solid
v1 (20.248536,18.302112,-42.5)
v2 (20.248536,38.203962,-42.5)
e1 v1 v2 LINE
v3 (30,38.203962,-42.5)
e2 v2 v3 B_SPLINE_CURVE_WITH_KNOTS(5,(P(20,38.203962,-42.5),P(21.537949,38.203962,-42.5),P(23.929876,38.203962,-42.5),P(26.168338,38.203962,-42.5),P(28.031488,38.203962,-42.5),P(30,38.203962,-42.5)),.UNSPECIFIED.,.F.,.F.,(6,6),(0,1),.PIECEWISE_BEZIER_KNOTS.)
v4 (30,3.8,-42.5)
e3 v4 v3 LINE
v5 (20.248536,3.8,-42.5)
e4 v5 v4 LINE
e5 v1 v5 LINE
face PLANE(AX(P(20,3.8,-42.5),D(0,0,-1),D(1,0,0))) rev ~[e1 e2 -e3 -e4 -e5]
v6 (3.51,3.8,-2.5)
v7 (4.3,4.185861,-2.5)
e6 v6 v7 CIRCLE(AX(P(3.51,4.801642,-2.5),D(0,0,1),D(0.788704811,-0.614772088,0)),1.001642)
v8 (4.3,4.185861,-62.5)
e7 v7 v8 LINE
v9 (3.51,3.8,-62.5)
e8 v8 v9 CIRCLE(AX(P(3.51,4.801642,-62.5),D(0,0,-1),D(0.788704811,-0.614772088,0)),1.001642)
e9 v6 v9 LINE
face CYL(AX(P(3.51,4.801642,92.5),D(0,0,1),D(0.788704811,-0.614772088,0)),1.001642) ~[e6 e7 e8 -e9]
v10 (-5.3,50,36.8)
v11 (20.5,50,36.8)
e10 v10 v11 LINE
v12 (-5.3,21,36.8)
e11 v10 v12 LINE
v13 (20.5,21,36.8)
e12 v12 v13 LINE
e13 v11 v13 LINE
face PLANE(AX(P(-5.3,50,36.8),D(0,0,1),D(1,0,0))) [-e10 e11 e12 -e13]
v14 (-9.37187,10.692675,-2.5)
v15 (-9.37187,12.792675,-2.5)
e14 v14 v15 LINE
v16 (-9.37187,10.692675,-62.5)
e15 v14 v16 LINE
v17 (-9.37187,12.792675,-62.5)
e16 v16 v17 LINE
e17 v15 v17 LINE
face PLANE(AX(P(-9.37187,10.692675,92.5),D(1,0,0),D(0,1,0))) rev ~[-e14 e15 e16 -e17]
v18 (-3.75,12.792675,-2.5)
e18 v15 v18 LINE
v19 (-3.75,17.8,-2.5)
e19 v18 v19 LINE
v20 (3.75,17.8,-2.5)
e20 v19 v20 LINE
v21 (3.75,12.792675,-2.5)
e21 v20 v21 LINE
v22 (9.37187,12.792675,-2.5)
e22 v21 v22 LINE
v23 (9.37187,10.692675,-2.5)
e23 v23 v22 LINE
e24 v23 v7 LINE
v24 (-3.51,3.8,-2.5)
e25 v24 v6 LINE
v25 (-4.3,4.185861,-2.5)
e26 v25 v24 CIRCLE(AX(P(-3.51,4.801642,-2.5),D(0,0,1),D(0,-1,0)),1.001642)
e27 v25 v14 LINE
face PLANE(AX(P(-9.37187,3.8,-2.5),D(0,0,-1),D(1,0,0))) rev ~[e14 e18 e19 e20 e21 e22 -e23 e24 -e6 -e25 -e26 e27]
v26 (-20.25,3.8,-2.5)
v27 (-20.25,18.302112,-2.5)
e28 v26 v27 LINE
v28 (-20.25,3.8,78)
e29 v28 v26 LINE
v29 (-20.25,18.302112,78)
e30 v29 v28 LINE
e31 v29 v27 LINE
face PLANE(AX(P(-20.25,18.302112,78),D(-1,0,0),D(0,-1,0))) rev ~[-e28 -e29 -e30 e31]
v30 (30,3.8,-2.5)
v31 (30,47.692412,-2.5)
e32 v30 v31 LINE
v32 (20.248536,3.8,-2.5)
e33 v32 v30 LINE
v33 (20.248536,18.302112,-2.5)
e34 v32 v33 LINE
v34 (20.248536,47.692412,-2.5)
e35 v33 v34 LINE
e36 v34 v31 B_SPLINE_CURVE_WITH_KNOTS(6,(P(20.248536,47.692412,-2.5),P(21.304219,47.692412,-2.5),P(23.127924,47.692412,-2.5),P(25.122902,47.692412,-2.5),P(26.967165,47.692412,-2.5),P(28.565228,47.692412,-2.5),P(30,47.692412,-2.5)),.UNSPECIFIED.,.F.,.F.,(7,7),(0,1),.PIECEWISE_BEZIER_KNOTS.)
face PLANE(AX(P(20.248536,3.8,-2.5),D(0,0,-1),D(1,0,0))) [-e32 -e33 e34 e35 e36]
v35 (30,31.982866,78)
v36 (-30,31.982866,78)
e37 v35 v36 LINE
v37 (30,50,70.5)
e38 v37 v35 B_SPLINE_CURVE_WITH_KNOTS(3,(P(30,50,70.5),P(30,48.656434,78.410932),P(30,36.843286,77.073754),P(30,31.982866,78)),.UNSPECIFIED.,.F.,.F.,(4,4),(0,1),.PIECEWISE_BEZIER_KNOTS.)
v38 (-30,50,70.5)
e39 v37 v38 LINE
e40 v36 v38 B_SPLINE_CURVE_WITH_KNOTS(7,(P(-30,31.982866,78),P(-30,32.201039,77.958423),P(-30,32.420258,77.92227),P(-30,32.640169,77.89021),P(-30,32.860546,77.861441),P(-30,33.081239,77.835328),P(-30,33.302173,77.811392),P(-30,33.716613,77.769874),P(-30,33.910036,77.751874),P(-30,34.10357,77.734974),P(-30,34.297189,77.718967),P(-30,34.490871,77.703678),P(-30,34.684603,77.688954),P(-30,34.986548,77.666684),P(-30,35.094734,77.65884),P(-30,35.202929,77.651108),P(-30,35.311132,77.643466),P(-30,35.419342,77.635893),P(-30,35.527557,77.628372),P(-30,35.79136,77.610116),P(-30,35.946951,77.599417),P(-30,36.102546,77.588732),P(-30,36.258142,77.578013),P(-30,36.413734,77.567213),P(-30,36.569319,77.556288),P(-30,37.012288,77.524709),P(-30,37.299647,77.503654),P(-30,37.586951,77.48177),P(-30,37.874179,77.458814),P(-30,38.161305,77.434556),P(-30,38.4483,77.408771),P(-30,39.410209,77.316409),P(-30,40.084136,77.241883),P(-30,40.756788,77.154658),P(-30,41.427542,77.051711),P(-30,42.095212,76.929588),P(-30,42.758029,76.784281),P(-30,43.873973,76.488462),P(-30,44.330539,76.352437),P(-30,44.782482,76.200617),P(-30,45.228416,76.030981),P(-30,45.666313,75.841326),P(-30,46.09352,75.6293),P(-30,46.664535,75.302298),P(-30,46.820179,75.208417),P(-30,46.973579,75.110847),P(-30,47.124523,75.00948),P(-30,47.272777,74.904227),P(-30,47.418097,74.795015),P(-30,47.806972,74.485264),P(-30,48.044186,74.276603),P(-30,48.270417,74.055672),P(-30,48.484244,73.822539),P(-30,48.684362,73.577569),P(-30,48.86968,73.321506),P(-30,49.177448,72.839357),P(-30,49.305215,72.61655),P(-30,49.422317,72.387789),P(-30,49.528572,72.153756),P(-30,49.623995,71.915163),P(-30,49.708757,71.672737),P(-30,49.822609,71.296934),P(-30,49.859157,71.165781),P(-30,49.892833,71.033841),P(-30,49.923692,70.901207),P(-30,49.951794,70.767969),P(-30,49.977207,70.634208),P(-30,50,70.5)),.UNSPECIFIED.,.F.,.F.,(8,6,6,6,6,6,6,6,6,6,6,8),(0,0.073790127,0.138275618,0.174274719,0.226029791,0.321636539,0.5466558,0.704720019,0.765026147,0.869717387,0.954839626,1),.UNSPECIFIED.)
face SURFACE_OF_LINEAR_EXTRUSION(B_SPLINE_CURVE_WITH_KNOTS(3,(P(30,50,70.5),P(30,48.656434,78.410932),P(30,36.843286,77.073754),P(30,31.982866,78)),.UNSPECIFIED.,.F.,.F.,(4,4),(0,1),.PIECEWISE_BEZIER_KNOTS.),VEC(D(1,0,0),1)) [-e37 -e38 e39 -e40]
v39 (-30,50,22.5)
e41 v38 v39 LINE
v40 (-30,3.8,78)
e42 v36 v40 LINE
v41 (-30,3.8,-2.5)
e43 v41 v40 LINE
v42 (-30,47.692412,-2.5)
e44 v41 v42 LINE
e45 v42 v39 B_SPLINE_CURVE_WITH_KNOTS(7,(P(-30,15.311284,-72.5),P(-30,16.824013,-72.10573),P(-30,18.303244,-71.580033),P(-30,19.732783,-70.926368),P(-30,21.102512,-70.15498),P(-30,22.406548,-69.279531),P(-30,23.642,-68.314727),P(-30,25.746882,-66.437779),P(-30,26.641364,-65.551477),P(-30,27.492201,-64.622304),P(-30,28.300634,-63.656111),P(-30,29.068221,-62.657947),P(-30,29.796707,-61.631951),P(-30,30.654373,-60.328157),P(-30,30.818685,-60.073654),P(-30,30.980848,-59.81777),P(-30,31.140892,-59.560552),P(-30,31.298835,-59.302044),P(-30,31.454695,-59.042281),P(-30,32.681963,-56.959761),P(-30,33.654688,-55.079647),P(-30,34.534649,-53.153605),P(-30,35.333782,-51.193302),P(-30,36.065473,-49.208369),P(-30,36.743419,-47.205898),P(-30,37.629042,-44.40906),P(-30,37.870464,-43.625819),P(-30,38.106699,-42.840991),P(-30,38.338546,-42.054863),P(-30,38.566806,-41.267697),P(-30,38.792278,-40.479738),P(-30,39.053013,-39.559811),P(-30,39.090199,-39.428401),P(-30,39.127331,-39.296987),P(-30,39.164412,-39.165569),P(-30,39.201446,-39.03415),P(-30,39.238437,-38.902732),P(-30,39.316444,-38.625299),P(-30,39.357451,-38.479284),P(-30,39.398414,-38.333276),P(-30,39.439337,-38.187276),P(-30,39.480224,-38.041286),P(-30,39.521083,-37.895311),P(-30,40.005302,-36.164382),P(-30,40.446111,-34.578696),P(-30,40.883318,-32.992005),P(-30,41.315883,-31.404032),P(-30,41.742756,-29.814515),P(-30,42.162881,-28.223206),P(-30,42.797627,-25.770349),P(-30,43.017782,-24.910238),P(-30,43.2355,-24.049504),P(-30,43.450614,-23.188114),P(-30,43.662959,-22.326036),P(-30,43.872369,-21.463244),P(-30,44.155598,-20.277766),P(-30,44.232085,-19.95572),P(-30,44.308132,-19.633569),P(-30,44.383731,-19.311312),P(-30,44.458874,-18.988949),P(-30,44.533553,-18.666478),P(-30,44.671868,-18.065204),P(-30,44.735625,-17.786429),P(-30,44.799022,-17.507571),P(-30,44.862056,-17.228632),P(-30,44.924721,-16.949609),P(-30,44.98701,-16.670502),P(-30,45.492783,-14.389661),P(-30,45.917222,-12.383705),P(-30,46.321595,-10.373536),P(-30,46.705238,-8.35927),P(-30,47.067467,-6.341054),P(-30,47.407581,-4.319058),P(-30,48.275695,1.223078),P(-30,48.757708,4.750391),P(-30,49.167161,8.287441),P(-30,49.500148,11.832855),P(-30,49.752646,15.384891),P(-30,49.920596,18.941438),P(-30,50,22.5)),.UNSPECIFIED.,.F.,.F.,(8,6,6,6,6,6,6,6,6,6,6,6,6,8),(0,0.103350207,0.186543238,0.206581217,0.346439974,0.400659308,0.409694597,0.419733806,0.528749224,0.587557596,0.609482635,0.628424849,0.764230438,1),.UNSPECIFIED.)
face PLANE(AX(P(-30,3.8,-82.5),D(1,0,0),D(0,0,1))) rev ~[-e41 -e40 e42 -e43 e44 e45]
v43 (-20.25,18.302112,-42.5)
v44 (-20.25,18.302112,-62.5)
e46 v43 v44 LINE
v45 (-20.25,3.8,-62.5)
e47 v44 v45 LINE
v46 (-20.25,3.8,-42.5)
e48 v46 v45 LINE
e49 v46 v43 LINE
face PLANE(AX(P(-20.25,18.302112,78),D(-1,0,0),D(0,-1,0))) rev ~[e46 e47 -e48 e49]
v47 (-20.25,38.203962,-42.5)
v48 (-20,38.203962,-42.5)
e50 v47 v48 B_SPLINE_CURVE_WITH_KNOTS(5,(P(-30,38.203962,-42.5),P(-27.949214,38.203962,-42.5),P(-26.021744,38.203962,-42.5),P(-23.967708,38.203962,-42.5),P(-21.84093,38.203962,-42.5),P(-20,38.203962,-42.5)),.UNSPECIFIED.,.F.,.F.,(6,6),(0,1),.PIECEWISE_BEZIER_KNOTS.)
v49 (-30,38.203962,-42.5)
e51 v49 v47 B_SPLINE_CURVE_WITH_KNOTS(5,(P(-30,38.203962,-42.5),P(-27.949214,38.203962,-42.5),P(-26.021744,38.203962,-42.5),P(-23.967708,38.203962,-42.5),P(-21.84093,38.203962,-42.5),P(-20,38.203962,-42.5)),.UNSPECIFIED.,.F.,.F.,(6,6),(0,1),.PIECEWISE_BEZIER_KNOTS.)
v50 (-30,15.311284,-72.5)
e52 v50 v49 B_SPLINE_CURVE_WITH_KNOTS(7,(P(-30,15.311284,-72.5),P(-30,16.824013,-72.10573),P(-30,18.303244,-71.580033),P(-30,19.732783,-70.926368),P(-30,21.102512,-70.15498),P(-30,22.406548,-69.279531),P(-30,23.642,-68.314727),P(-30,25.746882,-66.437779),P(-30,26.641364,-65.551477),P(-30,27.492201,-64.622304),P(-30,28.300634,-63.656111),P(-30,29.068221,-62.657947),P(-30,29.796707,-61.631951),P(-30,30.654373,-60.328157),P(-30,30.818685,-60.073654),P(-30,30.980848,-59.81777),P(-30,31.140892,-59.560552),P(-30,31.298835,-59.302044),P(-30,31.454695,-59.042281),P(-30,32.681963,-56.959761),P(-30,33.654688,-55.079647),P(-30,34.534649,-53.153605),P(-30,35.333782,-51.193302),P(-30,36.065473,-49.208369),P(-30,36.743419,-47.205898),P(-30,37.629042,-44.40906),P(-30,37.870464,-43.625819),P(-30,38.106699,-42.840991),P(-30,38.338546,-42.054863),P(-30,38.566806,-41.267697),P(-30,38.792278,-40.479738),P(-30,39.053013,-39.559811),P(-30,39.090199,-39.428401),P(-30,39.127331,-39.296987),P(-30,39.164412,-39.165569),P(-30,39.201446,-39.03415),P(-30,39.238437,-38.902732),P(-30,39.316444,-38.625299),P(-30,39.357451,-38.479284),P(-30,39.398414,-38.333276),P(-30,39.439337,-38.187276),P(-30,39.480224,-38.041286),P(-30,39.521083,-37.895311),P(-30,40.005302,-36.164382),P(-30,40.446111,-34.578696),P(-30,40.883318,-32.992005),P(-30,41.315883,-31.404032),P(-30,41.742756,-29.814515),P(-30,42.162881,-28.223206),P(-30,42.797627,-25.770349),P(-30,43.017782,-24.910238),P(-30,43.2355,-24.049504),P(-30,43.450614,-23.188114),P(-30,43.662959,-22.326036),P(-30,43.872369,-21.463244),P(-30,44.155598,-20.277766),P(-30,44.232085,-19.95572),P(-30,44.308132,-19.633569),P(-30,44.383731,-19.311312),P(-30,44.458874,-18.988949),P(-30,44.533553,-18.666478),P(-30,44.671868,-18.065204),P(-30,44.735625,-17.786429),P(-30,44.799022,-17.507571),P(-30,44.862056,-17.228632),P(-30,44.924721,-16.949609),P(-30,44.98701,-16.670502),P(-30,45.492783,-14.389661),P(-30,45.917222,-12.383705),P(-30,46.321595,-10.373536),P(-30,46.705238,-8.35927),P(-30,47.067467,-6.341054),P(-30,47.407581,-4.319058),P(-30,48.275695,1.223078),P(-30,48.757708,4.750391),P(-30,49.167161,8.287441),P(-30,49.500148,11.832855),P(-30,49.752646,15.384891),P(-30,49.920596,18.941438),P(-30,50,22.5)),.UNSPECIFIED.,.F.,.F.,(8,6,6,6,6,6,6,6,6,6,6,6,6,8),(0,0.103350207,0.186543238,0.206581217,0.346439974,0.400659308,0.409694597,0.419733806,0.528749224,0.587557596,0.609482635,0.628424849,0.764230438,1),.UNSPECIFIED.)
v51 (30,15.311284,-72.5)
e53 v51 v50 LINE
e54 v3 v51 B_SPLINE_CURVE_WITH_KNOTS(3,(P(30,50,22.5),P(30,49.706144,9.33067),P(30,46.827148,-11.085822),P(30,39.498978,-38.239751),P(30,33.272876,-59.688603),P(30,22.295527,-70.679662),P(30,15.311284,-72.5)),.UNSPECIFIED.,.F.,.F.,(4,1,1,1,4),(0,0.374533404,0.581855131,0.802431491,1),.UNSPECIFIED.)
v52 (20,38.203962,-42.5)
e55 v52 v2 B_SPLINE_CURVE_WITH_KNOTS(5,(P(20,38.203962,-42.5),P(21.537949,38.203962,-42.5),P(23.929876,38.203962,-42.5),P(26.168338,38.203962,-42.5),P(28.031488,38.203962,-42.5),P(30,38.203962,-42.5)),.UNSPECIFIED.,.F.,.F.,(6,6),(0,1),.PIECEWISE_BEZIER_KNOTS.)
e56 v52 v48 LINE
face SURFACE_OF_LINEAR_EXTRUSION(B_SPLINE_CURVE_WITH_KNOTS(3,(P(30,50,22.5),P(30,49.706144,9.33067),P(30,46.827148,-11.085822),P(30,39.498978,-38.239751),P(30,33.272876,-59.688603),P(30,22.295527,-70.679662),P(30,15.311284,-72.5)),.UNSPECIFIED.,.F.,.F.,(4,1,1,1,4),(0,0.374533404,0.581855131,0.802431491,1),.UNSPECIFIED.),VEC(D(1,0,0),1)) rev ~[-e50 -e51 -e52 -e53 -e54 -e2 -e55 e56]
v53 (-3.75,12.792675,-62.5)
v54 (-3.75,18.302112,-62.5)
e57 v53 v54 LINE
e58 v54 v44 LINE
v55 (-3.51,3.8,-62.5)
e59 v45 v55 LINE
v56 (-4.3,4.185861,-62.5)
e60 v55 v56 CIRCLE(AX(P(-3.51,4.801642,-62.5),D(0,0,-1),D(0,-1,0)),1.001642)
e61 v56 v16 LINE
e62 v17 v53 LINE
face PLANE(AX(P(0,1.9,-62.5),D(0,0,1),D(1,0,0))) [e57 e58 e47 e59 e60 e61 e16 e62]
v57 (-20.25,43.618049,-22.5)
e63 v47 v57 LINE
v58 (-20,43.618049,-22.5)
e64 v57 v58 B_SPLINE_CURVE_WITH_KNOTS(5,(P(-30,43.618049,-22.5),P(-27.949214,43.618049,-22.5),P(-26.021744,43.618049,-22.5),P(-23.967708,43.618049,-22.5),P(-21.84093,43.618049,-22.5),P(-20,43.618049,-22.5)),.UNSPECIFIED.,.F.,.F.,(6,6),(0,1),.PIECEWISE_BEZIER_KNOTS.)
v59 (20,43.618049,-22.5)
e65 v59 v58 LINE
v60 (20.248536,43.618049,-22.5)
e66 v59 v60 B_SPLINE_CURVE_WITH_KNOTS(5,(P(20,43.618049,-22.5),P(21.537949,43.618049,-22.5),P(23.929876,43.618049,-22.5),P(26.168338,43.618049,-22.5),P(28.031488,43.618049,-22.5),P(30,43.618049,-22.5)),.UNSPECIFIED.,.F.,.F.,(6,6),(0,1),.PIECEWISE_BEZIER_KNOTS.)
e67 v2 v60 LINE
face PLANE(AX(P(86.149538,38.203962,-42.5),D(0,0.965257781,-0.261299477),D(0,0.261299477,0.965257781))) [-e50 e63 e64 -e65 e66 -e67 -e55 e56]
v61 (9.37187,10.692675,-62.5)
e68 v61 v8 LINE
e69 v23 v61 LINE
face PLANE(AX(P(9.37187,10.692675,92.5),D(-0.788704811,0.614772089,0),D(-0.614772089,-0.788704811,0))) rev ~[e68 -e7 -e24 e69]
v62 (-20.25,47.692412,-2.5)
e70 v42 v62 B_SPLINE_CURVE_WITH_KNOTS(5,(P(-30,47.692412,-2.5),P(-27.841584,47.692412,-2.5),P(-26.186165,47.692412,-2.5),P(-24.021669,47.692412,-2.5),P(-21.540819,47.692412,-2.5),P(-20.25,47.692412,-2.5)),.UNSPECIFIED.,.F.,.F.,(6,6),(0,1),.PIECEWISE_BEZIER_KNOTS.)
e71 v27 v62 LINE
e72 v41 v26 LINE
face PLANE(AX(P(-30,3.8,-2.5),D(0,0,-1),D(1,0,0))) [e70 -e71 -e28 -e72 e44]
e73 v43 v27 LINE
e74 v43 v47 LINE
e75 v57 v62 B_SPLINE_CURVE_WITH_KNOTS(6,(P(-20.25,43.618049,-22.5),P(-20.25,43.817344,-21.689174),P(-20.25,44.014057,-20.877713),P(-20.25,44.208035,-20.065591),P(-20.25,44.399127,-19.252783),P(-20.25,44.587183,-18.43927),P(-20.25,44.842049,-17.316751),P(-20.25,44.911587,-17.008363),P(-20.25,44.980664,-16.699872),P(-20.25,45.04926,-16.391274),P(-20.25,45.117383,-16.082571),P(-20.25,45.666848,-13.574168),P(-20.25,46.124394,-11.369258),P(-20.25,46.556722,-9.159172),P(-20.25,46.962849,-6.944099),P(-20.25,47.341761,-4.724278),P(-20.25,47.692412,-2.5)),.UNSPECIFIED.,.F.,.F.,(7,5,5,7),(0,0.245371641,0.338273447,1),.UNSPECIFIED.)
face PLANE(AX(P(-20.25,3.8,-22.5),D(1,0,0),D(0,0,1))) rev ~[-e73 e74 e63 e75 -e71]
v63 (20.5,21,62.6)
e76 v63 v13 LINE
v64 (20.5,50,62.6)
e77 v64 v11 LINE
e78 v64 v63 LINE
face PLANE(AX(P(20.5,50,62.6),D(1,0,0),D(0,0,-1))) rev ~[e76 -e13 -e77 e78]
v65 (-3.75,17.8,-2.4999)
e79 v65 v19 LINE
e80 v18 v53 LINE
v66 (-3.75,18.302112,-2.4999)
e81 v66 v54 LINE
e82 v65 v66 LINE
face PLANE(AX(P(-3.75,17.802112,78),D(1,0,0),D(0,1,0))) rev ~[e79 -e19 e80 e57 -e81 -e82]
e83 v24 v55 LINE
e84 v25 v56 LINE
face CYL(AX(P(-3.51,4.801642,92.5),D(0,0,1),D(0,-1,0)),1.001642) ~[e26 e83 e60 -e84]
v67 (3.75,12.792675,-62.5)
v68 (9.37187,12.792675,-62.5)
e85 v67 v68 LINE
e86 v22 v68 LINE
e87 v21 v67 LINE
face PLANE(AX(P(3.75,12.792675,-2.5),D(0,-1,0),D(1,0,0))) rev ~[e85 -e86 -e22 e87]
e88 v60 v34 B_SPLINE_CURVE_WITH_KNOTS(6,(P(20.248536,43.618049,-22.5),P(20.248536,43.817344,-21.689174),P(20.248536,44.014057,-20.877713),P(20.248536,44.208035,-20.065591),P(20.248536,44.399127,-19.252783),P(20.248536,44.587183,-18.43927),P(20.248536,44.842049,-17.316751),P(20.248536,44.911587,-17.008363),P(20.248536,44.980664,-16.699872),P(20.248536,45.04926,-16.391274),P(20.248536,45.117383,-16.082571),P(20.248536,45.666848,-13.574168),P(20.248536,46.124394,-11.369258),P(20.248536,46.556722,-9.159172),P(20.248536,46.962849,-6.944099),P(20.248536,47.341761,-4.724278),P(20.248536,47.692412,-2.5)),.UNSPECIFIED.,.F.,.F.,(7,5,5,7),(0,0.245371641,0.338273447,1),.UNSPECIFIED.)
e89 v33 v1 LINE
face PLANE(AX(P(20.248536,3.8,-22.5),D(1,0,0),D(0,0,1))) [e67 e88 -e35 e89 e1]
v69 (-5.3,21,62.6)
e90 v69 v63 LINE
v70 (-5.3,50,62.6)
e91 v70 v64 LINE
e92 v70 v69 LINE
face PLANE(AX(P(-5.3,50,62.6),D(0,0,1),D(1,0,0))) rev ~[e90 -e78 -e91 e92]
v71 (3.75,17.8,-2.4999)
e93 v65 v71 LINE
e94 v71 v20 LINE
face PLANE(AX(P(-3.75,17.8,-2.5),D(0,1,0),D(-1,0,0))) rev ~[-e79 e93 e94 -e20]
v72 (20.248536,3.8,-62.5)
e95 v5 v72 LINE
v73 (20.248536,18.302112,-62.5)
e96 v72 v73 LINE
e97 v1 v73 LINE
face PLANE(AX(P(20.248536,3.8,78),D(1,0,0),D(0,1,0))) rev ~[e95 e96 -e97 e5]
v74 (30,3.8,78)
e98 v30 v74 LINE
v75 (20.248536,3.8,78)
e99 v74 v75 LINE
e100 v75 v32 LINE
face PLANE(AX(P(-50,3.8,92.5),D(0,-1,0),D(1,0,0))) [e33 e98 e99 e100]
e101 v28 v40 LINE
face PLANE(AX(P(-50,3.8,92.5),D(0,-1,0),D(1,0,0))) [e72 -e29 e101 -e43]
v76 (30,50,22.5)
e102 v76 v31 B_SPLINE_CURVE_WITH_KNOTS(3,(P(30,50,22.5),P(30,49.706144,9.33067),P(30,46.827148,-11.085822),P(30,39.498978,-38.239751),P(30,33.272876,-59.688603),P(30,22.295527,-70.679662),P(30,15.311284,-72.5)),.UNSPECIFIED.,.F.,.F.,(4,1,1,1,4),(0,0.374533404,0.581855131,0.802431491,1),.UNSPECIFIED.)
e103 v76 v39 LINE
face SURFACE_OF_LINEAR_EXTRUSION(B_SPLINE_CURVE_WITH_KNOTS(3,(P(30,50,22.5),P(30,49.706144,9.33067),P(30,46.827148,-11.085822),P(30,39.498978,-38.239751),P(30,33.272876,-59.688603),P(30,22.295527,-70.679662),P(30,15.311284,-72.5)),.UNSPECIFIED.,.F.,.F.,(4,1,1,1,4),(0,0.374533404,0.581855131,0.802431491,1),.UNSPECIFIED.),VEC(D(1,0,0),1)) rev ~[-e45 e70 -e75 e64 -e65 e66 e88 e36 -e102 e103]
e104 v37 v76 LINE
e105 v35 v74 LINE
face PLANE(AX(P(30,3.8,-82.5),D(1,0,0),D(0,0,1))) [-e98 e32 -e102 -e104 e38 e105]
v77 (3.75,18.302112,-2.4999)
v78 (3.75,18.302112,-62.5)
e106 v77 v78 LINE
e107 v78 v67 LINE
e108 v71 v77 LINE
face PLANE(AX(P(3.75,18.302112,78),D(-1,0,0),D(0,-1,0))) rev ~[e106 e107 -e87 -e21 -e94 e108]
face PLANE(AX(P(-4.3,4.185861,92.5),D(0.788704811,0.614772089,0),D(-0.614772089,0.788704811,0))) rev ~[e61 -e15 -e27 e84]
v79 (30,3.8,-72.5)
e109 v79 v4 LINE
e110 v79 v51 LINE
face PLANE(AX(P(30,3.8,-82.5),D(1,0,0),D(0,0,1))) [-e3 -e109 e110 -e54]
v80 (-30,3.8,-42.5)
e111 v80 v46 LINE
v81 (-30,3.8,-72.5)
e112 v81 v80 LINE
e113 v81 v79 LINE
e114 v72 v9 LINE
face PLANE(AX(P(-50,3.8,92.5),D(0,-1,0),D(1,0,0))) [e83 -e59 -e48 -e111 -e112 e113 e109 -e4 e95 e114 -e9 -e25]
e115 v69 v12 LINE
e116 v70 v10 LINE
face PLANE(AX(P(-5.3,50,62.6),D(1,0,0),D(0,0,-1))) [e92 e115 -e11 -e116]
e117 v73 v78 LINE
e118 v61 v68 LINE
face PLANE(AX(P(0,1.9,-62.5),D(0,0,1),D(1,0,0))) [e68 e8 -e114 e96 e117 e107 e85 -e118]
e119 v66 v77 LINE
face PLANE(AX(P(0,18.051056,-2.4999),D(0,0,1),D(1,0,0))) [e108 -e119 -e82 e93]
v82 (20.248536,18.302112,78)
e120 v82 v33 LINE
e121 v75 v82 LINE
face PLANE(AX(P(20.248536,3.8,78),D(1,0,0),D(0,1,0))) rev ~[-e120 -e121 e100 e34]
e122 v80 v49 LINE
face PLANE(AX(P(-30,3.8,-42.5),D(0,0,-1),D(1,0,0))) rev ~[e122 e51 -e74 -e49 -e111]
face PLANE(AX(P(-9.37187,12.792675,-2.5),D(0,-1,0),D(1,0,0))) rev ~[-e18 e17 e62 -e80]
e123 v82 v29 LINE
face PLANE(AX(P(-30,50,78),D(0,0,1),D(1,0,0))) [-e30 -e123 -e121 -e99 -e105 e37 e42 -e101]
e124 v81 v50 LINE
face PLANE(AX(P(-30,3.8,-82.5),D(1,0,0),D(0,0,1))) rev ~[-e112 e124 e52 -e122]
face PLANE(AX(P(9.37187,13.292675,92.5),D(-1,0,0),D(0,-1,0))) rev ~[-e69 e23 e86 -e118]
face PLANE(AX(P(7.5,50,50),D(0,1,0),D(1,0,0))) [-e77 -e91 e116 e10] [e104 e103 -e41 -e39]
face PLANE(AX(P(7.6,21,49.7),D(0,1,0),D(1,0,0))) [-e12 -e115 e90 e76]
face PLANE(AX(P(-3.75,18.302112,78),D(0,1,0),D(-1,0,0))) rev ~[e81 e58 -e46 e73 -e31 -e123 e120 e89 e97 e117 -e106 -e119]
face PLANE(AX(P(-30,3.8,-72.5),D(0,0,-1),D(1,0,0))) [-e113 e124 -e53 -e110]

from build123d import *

# Parameters (mm, degrees)
SKETCH_1_W                = 100
SKETCH_1_H                = 185
EXTRUDE_1_DEPTH           = 100
SKETCH_2_W                = 100
SKETCH_2_H                = 3.8
CUT_EXTRUDE_1_DEPTH       = 155
CUT_EXTRUDE_2_DEPTH       = 155
SKETCH_4_W                = 25.5
SKETCH_4_H                = 25.5
CUT_EXTRUDE_3_DEPTH       = 79
SKETCH_6_W                = 89.706259743
SKETCH_6_H                = 10
SKETCH_6_W_2              = 10.293740257
CUT_EXTRUDE_4_DEPTH       = 146.107718609
CUT_EXTRUDE_5_DEPTH       = 169.985946161
CUT_EXTRUDE_5_DEPTH_BACK  = 169.985946161
SKETCH_7_W                = 20
SKETCH_7_H                = 3.8
EXTRUDE_4_DEPTH           = 160
SKETCH_10_W               = 16
SKETCH_10_H               = 1.8
CUT_EXTRUDE_6_DEPTH       = 155
SKETCH_13_W               = 20
SKETCH_13_H               = 175
CUT_EXTRUDE_7_DEPTH       = 143.515578096
SKETCH_14_W               = 175
SKETCH_14_H               = 50
CUT_EXTRUDE_8_DEPTH       = 149.849756466
SKETCH_15_W               = 60
SKETCH_15_H               = 10
CUT_EXTRUDE_9_DEPTH       = 108.660066877
SKETCH_16_W               = 60
SKETCH_16_H               = 14.5
CUT_EXTRUDE_10_DEPTH      = 108.660066877
CUT_EXTRUDE_11_DEPTH      = 111.381157812
CUT_EXTRUDE_21_DEPTH      = 162.400898529
CUT_EXTRUDE_21_DEPTH_BACK = 140.5
CUT_EXTRUDE_26_DEPTH      = 111.381157983
SKETCH_34_W               = 10
SKETCH_34_H               = 20
CUT_EXTRUDE_31_DEPTH      = 96.490523251
SKETCH_35_W               = 18.74373947
SKETCH_35_H               = 80.5
CUT_EXTRUDE_32_DEPTH      = 14
CUT_EXTRUDE_35_DEPTH      = 60
CUT_EXTRUDE_36_DEPTH      = 140.5
SKETCH_43_W               = 0.25
SKETCH_43_H               = 0.002112168
CUT_EXTRUDE_37_DEPTH      = 140.5
SKETCH_44_W               = 7.5
SKETCH_44_H               = 0.502112168
CUT_EXTRUDE_38_DEPTH      = 80.4999
SKETCH_45_W               = 9.75
SKETCH_45_H               = 20
SKETCH_45_W_2             = 9.75146362
CUT_EXTRUDE_39_DEPTH      = 96.490523251
SKETCH_46_W               = 0.24853638
SKETCH_46_H               = 20
SKETCH_46_W_2             = 0.25
EXTRUDE_5_DEPTH           = 31.697888
CUT_EXTRUDE_40_DEPTH      = 106.399537724
CUT_EXTRUDE_40_DEPTH_BACK = 106.399537724
SKETCH_54_W               = 25.5
SKETCH_54_H               = 0.5
CUT_EXTRUDE_41_DEPTH      = 29
SKETCH_55_W               = 26
SKETCH_55_H               = 26
EXTRUDE_6_DEPTH           = 29
SKETCH_56_W               = 25.8
SKETCH_56_H               = 25.8
CUT_EXTRUDE_42_DEPTH      = 29


with BuildPart() as part:
    # 草图1 → 凸台-拉伸1 (new body)
    with BuildSketch(Plane(origin=(0, 0, 0), x_dir=(1, 0, 0), z_dir=(0, 1, 0))):
        Rectangle(SKETCH_1_W, SKETCH_1_H)
    extrude(amount=EXTRUDE_1_DEPTH)

    # 草图2 → 切除-拉伸1 (cut)
    with BuildSketch(Plane.XY.offset(92.5)):
        with Locations((0, 1.9)):
            Rectangle(SKETCH_2_W, SKETCH_2_H)
    extrude(amount=-CUT_EXTRUDE_1_DEPTH, mode=Mode.SUBTRACT)

    # 草图3 → 切除-拉伸2 (cut)
    with BuildSketch(Plane.XY.offset(92.5)):
        with BuildLine():
            Line((-20, 3.8), (-3.51, 3.8))
            ThreePointArc((-3.51, 3.8), (-3.949598778, 3.901619975), (-4.3, 4.185860522))
            Line((-4.3, 4.185860522), (-9.371869735, 10.69267521))
            ThreePointArc((-9.371869735, 10.69267521), (-9.267749528, 11.143089764), (-8.9765156, 11.502112168))
            Line((-8.9765156, 11.502112168), (-4.5, 11.502112168))
            ThreePointArc((-4.5, 11.502112168), (-4.146446609, 11.648558777), (-4, 12.002112168))
            Line((-4, 12.002112168), (-4, 16.002112168))
            Line((-4, 16.002112168), (-20, 16.002112168))
            Line((-20, 16.002112168), (-20, 3.8))
        make_face()
        with BuildLine():
            ThreePointArc((4.3, 4.185860522), (3.949598778, 3.901619975), (3.51, 3.8))
            Line((3.51, 3.8), (20, 3.8))
            Line((20, 3.8), (20, 16.002112168))
            Line((20, 16.002112168), (4, 16.002112168))
            Line((4, 16.002112168), (4, 12.002112168))
            ThreePointArc((4, 12.002112168), (4.146446609, 11.648558777), (4.5, 11.502112168))
            Line((4.5, 11.502112168), (8.9765156, 11.502112168))
            ThreePointArc((8.9765156, 11.502112168), (9.426930154, 11.220838522), (9.371869735, 10.69267521))
            Line((9.371869735, 10.69267521), (4.3, 4.185860522))
        make_face()
    extrude(amount=-CUT_EXTRUDE_2_DEPTH, mode=Mode.SUBTRACT)

    # 草图4 → 切除-拉伸3 (cut)
    with BuildSketch(Plane(origin=(0, 100, 0), x_dir=(1, 0, 0), z_dir=(0, 1, 0))):
        with Locations((7.75, -50.25)):
            Rectangle(SKETCH_4_W, SKETCH_4_H)
    extrude(amount=-CUT_EXTRUDE_3_DEPTH, mode=Mode.SUBTRACT)

    # 草图6 → 切除-拉伸4 (cut, through all)
    with BuildSketch(Plane(origin=(0, 100, 0), x_dir=(1, 0, 0), z_dir=(0, 1, 0))):
        with Locations((5.146870128, 87.5)):
            Rectangle(SKETCH_6_W, SKETCH_6_H)
        with Locations((-44.853129872, 87.5)):
            Rectangle(SKETCH_6_W_2, SKETCH_6_H)
    extrude(amount=-CUT_EXTRUDE_4_DEPTH, mode=Mode.SUBTRACT)

    # 草图7 → 切除-拉伸5 (cut, two sides: drawn at the far end of the back side and taken through both)
    with BuildSketch(Plane.ZY.offset(50).offset(-CUT_EXTRUDE_5_DEPTH_BACK)):
        with Locations((-72.5, 1.9)):
            Rectangle(SKETCH_7_W, SKETCH_7_H)
    extrude(amount=CUT_EXTRUDE_5_DEPTH + CUT_EXTRUDE_5_DEPTH_BACK, mode=Mode.SUBTRACT)

    # 草图9 → 凸台-拉伸4 (add)
    with BuildSketch(Plane.XY.offset(92.5)):
        Polygon((-9.371869735, 10.69267521), (-9.371869735, 13.29267521), (-4, 13.29267521), (4, 13.29267521), (9.371869735, 13.29267521), (9.371869735, 10.69267521), align=None)
    extrude(amount=-EXTRUDE_4_DEPTH)

    # 草图10 → 切除-拉伸6 (cut)
    with BuildSketch(Plane.XY.offset(92.5)):
        with Locations((-12, 16.902112168)):
            Rectangle(SKETCH_10_W, SKETCH_10_H)
        Polygon((4, 16.002112168), (4, 17.802112168), (19.99853638, 17.802112168), (20, 16.002112168), align=None)
    extrude(amount=-CUT_EXTRUDE_6_DEPTH, mode=Mode.SUBTRACT)

    # 草图13 → 切除-拉伸7 (cut, through all)
    with BuildSketch(Plane.XZ.offset(-3.8)):
        with Locations((-40, 5)):
            Rectangle(SKETCH_13_W, SKETCH_13_H)
        with Locations((40, 5)):
            Rectangle(SKETCH_13_W, SKETCH_13_H)
    extrude(amount=-CUT_EXTRUDE_7_DEPTH, mode=Mode.SUBTRACT)

    # 草图14 → 切除-拉伸8 (cut, through all)
    with BuildSketch(Plane(origin=(30, 0, 0), x_dir=(0, 0, -1), z_dir=(1, 0, 0))):
        with Locations((-5, 75)):
            Rectangle(SKETCH_14_W, SKETCH_14_H)
    extrude(amount=-CUT_EXTRUDE_8_DEPTH, mode=Mode.SUBTRACT)

    # 草图15 → 切除-拉伸9 (cut, through all)
    with BuildSketch(Plane.XZ.offset(-3.8)):
        with Locations((0, -77.5)):
            Rectangle(SKETCH_15_W, SKETCH_15_H)
    extrude(amount=-CUT_EXTRUDE_9_DEPTH, mode=Mode.SUBTRACT)

    # 草图16 → 切除-拉伸10 (cut, through all)
    with BuildSketch(Plane(origin=(0, 50, 0), x_dir=(1, 0, 0), z_dir=(0, 1, 0))):
        with Locations((0, -85.25)):
            Rectangle(SKETCH_16_W, SKETCH_16_H)
    extrude(amount=-CUT_EXTRUDE_10_DEPTH, mode=Mode.SUBTRACT)

    # 草图17 → 切除-拉伸11 (cut, through all)
    with BuildSketch(Plane(origin=(30, 0, 0), x_dir=(0, 0, -1), z_dir=(1, 0, 0))):
        with BuildLine():
            Line((72.5, 50), (-22.5, 50))
            add(Edge.make_bspline(
                [(-22.5, 50), (-9.330669895, 49.706144403), (11.085821801, 46.827148239), (38.239751221, 39.498978447), (59.688603115, 33.272875951), (70.679662454, 22.295526596), (72.5, 15.311284203)],
                knots=[0, 0, 0, 0, 0.374533404, 0.581855131, 0.802431491, 1, 1, 1, 1], degree=3))
            Line((72.5, 15.311284203), (72.5, 50))
        make_face()
    extrude(amount=-CUT_EXTRUDE_11_DEPTH, mode=Mode.SUBTRACT)

    # 草图24 → 切除-拉伸21 (cut, two sides: drawn at the far end of the back side and taken through both)
    with BuildSketch(Plane.XY.offset(78).offset(-CUT_EXTRUDE_21_DEPTH_BACK)):
        with BuildLine():
            Line((9.371869735, 11.309008937), (9.371869735, 10.69267521))
            ThreePointArc((9.371869735, 10.69267521), (9.477785695, 11.000842073), (9.371869735, 11.309008937))
        make_face()
    extrude(amount=CUT_EXTRUDE_21_DEPTH + CUT_EXTRUDE_21_DEPTH_BACK, mode=Mode.SUBTRACT)

    # 草图28 → 切除-拉伸26 (cut, through all)
    with BuildSketch(Plane(origin=(30, 0, 0), x_dir=(0, 0, -1), z_dir=(1, 0, 0))):
        with BuildLine():
            Line((-70.5, 50), (-78, 50))
            Line((-78, 50), (-78, 31.982866201))
            add(Edge.make_bspline(
                [(-70.5, 50), (-78.410932033, 48.656434308), (-77.0737544, 36.843285786), (-78, 31.982866201)],
                knots=[0, 0, 0, 0, 1, 1, 1, 1], degree=3))
        make_face()
    extrude(amount=-CUT_EXTRUDE_26_DEPTH, mode=Mode.SUBTRACT)

    # 草图34 → 切除-拉伸31 (cut, through all)
    with BuildSketch(Plane.XZ.offset(-3.8)):
        with Locations((-25, -32.5)):
            Rectangle(SKETCH_34_W, SKETCH_34_H)
        with Locations((25, -32.5)):
            Rectangle(SKETCH_34_W, SKETCH_34_H)
    extrude(amount=-CUT_EXTRUDE_31_DEPTH, mode=Mode.SUBTRACT)

    # 草图35 → 切除-拉伸32 (cut)
    with BuildSketch(Plane.XZ.offset(-3.8)):
        with Locations((0, 37.75)):
            Rectangle(SKETCH_35_W, SKETCH_35_H)
    extrude(amount=-CUT_EXTRUDE_32_DEPTH, mode=Mode.SUBTRACT)

    # 草图40 → 切除-拉伸35 (cut)
    with BuildSketch(Plane.XY.offset(-2.5)):
        Polygon((4, 13.29267521), (4, 17.8), (3.75, 17.8), (3.75, 12.79267521), (9.371869735, 12.79267521), (9.371869735, 13.29267521), align=None)
        Polygon((-3.75, 17.8), (-4, 17.8), (-4, 13.29267521), (-9.371869735, 13.29267521), (-9.371869735, 12.79267521), (-3.75, 12.79267521), align=None)
    extrude(amount=-CUT_EXTRUDE_35_DEPTH, mode=Mode.SUBTRACT)

    # 草图41 → 切除-拉伸36 (cut)
    with BuildSketch(Plane.XY.offset(78)):
        Polygon((-3.75, 18.302112168), (-20.25, 18.302112168), (-20.25, 3.8), (-20, 3.8), (-20, 17.802112168), (-3.75, 17.802112168), align=None)
        Polygon((3.75, 18.302112168), (3.75, 17.802112168), (19.99853638, 17.802112168), (19.99853638, 3.8), (20.24853638, 3.8), (20.24853638, 18.302112168), align=None)
    extrude(amount=-CUT_EXTRUDE_36_DEPTH, mode=Mode.SUBTRACT)

    # 草图43 → 切除-拉伸37 (cut)
    with BuildSketch(Plane.XY.offset(78)):
        with Locations((-3.875, 17.801056084)):
            Rectangle(SKETCH_43_W, SKETCH_43_H)
        with Locations((3.875, 17.801056084)):
            Rectangle(SKETCH_43_W, SKETCH_43_H)
    extrude(amount=-CUT_EXTRUDE_37_DEPTH, mode=Mode.SUBTRACT)

    # 草图44 → 切除-拉伸38 (cut)
    with BuildSketch(Plane.XY.offset(78)):
        with Locations((0, 18.051056084)):
            Rectangle(SKETCH_44_W, SKETCH_44_H)
    extrude(amount=-CUT_EXTRUDE_38_DEPTH, mode=Mode.SUBTRACT)

    # 草图45 → 切除-拉伸39 (cut, through all)
    with BuildSketch(Plane.XZ.offset(-3.8)):
        with Locations((-25.125, -12.5)):
            Rectangle(SKETCH_45_W, SKETCH_45_H)
        with Locations((25.12426819, -12.5)):
            Rectangle(SKETCH_45_W_2, SKETCH_45_H)
    extrude(amount=-CUT_EXTRUDE_39_DEPTH, mode=Mode.SUBTRACT)

    # 草图46 → 凸台-拉伸5 (add, through all)
    with BuildSketch(Plane.XZ.offset(-18.302112168)):
        with Locations((20.12426819, -32.5)):
            Rectangle(SKETCH_46_W, SKETCH_46_H)
        with Locations((-20.125, -32.5)):
            Rectangle(SKETCH_46_W_2, SKETCH_46_H)
    extrude(amount=-EXTRUDE_5_DEPTH)

    # 草图47 → 切除-拉伸40 (cut, two sides: drawn at the far end of the back side and taken through both)
    with BuildSketch(Plane.ZY.offset(20.25).offset(-CUT_EXTRUDE_40_DEPTH_BACK)):
        Polygon((-42.5, 38.203961841), (-22.5, 43.618048783), (-22.5, 50), (-42.5, 50), align=None)
    extrude(amount=CUT_EXTRUDE_40_DEPTH + CUT_EXTRUDE_40_DEPTH_BACK, mode=Mode.SUBTRACT)

    # 草图54 → 切除-拉伸41 (cut)
    with BuildSketch(Plane(origin=(0, 50, 0), x_dir=(1, 0, 0), z_dir=(0, 1, 0))):
        with Locations((7.75, -37.25)):
            Rectangle(SKETCH_54_W, SKETCH_54_H)
        Polygon((-5, -63), (-5, -37.5), (-5, -37), (-5.5, -37), (-5.5, -63), align=None)
    extrude(amount=-CUT_EXTRUDE_41_DEPTH, mode=Mode.SUBTRACT)

    # 草图55 → 凸台-拉伸6 (add)
    with BuildSketch(Plane(origin=(0, 50, 0), x_dir=(1, 0, 0), z_dir=(0, 1, 0))):
        with Locations((7.5, -50)):
            Rectangle(SKETCH_55_W, SKETCH_55_H)
    extrude(amount=-EXTRUDE_6_DEPTH)

    # 草图56 → 切除-拉伸42 (cut)
    with BuildSketch(Plane(origin=(0, 50, 0), x_dir=(1, 0, 0), z_dir=(0, 1, 0))):
        with Locations((7.6, -49.7)):
            Rectangle(SKETCH_56_W, SKETCH_56_H)
    extrude(amount=-CUT_EXTRUDE_42_DEPTH, mode=Mode.SUBTRACT)


solid = part.part
